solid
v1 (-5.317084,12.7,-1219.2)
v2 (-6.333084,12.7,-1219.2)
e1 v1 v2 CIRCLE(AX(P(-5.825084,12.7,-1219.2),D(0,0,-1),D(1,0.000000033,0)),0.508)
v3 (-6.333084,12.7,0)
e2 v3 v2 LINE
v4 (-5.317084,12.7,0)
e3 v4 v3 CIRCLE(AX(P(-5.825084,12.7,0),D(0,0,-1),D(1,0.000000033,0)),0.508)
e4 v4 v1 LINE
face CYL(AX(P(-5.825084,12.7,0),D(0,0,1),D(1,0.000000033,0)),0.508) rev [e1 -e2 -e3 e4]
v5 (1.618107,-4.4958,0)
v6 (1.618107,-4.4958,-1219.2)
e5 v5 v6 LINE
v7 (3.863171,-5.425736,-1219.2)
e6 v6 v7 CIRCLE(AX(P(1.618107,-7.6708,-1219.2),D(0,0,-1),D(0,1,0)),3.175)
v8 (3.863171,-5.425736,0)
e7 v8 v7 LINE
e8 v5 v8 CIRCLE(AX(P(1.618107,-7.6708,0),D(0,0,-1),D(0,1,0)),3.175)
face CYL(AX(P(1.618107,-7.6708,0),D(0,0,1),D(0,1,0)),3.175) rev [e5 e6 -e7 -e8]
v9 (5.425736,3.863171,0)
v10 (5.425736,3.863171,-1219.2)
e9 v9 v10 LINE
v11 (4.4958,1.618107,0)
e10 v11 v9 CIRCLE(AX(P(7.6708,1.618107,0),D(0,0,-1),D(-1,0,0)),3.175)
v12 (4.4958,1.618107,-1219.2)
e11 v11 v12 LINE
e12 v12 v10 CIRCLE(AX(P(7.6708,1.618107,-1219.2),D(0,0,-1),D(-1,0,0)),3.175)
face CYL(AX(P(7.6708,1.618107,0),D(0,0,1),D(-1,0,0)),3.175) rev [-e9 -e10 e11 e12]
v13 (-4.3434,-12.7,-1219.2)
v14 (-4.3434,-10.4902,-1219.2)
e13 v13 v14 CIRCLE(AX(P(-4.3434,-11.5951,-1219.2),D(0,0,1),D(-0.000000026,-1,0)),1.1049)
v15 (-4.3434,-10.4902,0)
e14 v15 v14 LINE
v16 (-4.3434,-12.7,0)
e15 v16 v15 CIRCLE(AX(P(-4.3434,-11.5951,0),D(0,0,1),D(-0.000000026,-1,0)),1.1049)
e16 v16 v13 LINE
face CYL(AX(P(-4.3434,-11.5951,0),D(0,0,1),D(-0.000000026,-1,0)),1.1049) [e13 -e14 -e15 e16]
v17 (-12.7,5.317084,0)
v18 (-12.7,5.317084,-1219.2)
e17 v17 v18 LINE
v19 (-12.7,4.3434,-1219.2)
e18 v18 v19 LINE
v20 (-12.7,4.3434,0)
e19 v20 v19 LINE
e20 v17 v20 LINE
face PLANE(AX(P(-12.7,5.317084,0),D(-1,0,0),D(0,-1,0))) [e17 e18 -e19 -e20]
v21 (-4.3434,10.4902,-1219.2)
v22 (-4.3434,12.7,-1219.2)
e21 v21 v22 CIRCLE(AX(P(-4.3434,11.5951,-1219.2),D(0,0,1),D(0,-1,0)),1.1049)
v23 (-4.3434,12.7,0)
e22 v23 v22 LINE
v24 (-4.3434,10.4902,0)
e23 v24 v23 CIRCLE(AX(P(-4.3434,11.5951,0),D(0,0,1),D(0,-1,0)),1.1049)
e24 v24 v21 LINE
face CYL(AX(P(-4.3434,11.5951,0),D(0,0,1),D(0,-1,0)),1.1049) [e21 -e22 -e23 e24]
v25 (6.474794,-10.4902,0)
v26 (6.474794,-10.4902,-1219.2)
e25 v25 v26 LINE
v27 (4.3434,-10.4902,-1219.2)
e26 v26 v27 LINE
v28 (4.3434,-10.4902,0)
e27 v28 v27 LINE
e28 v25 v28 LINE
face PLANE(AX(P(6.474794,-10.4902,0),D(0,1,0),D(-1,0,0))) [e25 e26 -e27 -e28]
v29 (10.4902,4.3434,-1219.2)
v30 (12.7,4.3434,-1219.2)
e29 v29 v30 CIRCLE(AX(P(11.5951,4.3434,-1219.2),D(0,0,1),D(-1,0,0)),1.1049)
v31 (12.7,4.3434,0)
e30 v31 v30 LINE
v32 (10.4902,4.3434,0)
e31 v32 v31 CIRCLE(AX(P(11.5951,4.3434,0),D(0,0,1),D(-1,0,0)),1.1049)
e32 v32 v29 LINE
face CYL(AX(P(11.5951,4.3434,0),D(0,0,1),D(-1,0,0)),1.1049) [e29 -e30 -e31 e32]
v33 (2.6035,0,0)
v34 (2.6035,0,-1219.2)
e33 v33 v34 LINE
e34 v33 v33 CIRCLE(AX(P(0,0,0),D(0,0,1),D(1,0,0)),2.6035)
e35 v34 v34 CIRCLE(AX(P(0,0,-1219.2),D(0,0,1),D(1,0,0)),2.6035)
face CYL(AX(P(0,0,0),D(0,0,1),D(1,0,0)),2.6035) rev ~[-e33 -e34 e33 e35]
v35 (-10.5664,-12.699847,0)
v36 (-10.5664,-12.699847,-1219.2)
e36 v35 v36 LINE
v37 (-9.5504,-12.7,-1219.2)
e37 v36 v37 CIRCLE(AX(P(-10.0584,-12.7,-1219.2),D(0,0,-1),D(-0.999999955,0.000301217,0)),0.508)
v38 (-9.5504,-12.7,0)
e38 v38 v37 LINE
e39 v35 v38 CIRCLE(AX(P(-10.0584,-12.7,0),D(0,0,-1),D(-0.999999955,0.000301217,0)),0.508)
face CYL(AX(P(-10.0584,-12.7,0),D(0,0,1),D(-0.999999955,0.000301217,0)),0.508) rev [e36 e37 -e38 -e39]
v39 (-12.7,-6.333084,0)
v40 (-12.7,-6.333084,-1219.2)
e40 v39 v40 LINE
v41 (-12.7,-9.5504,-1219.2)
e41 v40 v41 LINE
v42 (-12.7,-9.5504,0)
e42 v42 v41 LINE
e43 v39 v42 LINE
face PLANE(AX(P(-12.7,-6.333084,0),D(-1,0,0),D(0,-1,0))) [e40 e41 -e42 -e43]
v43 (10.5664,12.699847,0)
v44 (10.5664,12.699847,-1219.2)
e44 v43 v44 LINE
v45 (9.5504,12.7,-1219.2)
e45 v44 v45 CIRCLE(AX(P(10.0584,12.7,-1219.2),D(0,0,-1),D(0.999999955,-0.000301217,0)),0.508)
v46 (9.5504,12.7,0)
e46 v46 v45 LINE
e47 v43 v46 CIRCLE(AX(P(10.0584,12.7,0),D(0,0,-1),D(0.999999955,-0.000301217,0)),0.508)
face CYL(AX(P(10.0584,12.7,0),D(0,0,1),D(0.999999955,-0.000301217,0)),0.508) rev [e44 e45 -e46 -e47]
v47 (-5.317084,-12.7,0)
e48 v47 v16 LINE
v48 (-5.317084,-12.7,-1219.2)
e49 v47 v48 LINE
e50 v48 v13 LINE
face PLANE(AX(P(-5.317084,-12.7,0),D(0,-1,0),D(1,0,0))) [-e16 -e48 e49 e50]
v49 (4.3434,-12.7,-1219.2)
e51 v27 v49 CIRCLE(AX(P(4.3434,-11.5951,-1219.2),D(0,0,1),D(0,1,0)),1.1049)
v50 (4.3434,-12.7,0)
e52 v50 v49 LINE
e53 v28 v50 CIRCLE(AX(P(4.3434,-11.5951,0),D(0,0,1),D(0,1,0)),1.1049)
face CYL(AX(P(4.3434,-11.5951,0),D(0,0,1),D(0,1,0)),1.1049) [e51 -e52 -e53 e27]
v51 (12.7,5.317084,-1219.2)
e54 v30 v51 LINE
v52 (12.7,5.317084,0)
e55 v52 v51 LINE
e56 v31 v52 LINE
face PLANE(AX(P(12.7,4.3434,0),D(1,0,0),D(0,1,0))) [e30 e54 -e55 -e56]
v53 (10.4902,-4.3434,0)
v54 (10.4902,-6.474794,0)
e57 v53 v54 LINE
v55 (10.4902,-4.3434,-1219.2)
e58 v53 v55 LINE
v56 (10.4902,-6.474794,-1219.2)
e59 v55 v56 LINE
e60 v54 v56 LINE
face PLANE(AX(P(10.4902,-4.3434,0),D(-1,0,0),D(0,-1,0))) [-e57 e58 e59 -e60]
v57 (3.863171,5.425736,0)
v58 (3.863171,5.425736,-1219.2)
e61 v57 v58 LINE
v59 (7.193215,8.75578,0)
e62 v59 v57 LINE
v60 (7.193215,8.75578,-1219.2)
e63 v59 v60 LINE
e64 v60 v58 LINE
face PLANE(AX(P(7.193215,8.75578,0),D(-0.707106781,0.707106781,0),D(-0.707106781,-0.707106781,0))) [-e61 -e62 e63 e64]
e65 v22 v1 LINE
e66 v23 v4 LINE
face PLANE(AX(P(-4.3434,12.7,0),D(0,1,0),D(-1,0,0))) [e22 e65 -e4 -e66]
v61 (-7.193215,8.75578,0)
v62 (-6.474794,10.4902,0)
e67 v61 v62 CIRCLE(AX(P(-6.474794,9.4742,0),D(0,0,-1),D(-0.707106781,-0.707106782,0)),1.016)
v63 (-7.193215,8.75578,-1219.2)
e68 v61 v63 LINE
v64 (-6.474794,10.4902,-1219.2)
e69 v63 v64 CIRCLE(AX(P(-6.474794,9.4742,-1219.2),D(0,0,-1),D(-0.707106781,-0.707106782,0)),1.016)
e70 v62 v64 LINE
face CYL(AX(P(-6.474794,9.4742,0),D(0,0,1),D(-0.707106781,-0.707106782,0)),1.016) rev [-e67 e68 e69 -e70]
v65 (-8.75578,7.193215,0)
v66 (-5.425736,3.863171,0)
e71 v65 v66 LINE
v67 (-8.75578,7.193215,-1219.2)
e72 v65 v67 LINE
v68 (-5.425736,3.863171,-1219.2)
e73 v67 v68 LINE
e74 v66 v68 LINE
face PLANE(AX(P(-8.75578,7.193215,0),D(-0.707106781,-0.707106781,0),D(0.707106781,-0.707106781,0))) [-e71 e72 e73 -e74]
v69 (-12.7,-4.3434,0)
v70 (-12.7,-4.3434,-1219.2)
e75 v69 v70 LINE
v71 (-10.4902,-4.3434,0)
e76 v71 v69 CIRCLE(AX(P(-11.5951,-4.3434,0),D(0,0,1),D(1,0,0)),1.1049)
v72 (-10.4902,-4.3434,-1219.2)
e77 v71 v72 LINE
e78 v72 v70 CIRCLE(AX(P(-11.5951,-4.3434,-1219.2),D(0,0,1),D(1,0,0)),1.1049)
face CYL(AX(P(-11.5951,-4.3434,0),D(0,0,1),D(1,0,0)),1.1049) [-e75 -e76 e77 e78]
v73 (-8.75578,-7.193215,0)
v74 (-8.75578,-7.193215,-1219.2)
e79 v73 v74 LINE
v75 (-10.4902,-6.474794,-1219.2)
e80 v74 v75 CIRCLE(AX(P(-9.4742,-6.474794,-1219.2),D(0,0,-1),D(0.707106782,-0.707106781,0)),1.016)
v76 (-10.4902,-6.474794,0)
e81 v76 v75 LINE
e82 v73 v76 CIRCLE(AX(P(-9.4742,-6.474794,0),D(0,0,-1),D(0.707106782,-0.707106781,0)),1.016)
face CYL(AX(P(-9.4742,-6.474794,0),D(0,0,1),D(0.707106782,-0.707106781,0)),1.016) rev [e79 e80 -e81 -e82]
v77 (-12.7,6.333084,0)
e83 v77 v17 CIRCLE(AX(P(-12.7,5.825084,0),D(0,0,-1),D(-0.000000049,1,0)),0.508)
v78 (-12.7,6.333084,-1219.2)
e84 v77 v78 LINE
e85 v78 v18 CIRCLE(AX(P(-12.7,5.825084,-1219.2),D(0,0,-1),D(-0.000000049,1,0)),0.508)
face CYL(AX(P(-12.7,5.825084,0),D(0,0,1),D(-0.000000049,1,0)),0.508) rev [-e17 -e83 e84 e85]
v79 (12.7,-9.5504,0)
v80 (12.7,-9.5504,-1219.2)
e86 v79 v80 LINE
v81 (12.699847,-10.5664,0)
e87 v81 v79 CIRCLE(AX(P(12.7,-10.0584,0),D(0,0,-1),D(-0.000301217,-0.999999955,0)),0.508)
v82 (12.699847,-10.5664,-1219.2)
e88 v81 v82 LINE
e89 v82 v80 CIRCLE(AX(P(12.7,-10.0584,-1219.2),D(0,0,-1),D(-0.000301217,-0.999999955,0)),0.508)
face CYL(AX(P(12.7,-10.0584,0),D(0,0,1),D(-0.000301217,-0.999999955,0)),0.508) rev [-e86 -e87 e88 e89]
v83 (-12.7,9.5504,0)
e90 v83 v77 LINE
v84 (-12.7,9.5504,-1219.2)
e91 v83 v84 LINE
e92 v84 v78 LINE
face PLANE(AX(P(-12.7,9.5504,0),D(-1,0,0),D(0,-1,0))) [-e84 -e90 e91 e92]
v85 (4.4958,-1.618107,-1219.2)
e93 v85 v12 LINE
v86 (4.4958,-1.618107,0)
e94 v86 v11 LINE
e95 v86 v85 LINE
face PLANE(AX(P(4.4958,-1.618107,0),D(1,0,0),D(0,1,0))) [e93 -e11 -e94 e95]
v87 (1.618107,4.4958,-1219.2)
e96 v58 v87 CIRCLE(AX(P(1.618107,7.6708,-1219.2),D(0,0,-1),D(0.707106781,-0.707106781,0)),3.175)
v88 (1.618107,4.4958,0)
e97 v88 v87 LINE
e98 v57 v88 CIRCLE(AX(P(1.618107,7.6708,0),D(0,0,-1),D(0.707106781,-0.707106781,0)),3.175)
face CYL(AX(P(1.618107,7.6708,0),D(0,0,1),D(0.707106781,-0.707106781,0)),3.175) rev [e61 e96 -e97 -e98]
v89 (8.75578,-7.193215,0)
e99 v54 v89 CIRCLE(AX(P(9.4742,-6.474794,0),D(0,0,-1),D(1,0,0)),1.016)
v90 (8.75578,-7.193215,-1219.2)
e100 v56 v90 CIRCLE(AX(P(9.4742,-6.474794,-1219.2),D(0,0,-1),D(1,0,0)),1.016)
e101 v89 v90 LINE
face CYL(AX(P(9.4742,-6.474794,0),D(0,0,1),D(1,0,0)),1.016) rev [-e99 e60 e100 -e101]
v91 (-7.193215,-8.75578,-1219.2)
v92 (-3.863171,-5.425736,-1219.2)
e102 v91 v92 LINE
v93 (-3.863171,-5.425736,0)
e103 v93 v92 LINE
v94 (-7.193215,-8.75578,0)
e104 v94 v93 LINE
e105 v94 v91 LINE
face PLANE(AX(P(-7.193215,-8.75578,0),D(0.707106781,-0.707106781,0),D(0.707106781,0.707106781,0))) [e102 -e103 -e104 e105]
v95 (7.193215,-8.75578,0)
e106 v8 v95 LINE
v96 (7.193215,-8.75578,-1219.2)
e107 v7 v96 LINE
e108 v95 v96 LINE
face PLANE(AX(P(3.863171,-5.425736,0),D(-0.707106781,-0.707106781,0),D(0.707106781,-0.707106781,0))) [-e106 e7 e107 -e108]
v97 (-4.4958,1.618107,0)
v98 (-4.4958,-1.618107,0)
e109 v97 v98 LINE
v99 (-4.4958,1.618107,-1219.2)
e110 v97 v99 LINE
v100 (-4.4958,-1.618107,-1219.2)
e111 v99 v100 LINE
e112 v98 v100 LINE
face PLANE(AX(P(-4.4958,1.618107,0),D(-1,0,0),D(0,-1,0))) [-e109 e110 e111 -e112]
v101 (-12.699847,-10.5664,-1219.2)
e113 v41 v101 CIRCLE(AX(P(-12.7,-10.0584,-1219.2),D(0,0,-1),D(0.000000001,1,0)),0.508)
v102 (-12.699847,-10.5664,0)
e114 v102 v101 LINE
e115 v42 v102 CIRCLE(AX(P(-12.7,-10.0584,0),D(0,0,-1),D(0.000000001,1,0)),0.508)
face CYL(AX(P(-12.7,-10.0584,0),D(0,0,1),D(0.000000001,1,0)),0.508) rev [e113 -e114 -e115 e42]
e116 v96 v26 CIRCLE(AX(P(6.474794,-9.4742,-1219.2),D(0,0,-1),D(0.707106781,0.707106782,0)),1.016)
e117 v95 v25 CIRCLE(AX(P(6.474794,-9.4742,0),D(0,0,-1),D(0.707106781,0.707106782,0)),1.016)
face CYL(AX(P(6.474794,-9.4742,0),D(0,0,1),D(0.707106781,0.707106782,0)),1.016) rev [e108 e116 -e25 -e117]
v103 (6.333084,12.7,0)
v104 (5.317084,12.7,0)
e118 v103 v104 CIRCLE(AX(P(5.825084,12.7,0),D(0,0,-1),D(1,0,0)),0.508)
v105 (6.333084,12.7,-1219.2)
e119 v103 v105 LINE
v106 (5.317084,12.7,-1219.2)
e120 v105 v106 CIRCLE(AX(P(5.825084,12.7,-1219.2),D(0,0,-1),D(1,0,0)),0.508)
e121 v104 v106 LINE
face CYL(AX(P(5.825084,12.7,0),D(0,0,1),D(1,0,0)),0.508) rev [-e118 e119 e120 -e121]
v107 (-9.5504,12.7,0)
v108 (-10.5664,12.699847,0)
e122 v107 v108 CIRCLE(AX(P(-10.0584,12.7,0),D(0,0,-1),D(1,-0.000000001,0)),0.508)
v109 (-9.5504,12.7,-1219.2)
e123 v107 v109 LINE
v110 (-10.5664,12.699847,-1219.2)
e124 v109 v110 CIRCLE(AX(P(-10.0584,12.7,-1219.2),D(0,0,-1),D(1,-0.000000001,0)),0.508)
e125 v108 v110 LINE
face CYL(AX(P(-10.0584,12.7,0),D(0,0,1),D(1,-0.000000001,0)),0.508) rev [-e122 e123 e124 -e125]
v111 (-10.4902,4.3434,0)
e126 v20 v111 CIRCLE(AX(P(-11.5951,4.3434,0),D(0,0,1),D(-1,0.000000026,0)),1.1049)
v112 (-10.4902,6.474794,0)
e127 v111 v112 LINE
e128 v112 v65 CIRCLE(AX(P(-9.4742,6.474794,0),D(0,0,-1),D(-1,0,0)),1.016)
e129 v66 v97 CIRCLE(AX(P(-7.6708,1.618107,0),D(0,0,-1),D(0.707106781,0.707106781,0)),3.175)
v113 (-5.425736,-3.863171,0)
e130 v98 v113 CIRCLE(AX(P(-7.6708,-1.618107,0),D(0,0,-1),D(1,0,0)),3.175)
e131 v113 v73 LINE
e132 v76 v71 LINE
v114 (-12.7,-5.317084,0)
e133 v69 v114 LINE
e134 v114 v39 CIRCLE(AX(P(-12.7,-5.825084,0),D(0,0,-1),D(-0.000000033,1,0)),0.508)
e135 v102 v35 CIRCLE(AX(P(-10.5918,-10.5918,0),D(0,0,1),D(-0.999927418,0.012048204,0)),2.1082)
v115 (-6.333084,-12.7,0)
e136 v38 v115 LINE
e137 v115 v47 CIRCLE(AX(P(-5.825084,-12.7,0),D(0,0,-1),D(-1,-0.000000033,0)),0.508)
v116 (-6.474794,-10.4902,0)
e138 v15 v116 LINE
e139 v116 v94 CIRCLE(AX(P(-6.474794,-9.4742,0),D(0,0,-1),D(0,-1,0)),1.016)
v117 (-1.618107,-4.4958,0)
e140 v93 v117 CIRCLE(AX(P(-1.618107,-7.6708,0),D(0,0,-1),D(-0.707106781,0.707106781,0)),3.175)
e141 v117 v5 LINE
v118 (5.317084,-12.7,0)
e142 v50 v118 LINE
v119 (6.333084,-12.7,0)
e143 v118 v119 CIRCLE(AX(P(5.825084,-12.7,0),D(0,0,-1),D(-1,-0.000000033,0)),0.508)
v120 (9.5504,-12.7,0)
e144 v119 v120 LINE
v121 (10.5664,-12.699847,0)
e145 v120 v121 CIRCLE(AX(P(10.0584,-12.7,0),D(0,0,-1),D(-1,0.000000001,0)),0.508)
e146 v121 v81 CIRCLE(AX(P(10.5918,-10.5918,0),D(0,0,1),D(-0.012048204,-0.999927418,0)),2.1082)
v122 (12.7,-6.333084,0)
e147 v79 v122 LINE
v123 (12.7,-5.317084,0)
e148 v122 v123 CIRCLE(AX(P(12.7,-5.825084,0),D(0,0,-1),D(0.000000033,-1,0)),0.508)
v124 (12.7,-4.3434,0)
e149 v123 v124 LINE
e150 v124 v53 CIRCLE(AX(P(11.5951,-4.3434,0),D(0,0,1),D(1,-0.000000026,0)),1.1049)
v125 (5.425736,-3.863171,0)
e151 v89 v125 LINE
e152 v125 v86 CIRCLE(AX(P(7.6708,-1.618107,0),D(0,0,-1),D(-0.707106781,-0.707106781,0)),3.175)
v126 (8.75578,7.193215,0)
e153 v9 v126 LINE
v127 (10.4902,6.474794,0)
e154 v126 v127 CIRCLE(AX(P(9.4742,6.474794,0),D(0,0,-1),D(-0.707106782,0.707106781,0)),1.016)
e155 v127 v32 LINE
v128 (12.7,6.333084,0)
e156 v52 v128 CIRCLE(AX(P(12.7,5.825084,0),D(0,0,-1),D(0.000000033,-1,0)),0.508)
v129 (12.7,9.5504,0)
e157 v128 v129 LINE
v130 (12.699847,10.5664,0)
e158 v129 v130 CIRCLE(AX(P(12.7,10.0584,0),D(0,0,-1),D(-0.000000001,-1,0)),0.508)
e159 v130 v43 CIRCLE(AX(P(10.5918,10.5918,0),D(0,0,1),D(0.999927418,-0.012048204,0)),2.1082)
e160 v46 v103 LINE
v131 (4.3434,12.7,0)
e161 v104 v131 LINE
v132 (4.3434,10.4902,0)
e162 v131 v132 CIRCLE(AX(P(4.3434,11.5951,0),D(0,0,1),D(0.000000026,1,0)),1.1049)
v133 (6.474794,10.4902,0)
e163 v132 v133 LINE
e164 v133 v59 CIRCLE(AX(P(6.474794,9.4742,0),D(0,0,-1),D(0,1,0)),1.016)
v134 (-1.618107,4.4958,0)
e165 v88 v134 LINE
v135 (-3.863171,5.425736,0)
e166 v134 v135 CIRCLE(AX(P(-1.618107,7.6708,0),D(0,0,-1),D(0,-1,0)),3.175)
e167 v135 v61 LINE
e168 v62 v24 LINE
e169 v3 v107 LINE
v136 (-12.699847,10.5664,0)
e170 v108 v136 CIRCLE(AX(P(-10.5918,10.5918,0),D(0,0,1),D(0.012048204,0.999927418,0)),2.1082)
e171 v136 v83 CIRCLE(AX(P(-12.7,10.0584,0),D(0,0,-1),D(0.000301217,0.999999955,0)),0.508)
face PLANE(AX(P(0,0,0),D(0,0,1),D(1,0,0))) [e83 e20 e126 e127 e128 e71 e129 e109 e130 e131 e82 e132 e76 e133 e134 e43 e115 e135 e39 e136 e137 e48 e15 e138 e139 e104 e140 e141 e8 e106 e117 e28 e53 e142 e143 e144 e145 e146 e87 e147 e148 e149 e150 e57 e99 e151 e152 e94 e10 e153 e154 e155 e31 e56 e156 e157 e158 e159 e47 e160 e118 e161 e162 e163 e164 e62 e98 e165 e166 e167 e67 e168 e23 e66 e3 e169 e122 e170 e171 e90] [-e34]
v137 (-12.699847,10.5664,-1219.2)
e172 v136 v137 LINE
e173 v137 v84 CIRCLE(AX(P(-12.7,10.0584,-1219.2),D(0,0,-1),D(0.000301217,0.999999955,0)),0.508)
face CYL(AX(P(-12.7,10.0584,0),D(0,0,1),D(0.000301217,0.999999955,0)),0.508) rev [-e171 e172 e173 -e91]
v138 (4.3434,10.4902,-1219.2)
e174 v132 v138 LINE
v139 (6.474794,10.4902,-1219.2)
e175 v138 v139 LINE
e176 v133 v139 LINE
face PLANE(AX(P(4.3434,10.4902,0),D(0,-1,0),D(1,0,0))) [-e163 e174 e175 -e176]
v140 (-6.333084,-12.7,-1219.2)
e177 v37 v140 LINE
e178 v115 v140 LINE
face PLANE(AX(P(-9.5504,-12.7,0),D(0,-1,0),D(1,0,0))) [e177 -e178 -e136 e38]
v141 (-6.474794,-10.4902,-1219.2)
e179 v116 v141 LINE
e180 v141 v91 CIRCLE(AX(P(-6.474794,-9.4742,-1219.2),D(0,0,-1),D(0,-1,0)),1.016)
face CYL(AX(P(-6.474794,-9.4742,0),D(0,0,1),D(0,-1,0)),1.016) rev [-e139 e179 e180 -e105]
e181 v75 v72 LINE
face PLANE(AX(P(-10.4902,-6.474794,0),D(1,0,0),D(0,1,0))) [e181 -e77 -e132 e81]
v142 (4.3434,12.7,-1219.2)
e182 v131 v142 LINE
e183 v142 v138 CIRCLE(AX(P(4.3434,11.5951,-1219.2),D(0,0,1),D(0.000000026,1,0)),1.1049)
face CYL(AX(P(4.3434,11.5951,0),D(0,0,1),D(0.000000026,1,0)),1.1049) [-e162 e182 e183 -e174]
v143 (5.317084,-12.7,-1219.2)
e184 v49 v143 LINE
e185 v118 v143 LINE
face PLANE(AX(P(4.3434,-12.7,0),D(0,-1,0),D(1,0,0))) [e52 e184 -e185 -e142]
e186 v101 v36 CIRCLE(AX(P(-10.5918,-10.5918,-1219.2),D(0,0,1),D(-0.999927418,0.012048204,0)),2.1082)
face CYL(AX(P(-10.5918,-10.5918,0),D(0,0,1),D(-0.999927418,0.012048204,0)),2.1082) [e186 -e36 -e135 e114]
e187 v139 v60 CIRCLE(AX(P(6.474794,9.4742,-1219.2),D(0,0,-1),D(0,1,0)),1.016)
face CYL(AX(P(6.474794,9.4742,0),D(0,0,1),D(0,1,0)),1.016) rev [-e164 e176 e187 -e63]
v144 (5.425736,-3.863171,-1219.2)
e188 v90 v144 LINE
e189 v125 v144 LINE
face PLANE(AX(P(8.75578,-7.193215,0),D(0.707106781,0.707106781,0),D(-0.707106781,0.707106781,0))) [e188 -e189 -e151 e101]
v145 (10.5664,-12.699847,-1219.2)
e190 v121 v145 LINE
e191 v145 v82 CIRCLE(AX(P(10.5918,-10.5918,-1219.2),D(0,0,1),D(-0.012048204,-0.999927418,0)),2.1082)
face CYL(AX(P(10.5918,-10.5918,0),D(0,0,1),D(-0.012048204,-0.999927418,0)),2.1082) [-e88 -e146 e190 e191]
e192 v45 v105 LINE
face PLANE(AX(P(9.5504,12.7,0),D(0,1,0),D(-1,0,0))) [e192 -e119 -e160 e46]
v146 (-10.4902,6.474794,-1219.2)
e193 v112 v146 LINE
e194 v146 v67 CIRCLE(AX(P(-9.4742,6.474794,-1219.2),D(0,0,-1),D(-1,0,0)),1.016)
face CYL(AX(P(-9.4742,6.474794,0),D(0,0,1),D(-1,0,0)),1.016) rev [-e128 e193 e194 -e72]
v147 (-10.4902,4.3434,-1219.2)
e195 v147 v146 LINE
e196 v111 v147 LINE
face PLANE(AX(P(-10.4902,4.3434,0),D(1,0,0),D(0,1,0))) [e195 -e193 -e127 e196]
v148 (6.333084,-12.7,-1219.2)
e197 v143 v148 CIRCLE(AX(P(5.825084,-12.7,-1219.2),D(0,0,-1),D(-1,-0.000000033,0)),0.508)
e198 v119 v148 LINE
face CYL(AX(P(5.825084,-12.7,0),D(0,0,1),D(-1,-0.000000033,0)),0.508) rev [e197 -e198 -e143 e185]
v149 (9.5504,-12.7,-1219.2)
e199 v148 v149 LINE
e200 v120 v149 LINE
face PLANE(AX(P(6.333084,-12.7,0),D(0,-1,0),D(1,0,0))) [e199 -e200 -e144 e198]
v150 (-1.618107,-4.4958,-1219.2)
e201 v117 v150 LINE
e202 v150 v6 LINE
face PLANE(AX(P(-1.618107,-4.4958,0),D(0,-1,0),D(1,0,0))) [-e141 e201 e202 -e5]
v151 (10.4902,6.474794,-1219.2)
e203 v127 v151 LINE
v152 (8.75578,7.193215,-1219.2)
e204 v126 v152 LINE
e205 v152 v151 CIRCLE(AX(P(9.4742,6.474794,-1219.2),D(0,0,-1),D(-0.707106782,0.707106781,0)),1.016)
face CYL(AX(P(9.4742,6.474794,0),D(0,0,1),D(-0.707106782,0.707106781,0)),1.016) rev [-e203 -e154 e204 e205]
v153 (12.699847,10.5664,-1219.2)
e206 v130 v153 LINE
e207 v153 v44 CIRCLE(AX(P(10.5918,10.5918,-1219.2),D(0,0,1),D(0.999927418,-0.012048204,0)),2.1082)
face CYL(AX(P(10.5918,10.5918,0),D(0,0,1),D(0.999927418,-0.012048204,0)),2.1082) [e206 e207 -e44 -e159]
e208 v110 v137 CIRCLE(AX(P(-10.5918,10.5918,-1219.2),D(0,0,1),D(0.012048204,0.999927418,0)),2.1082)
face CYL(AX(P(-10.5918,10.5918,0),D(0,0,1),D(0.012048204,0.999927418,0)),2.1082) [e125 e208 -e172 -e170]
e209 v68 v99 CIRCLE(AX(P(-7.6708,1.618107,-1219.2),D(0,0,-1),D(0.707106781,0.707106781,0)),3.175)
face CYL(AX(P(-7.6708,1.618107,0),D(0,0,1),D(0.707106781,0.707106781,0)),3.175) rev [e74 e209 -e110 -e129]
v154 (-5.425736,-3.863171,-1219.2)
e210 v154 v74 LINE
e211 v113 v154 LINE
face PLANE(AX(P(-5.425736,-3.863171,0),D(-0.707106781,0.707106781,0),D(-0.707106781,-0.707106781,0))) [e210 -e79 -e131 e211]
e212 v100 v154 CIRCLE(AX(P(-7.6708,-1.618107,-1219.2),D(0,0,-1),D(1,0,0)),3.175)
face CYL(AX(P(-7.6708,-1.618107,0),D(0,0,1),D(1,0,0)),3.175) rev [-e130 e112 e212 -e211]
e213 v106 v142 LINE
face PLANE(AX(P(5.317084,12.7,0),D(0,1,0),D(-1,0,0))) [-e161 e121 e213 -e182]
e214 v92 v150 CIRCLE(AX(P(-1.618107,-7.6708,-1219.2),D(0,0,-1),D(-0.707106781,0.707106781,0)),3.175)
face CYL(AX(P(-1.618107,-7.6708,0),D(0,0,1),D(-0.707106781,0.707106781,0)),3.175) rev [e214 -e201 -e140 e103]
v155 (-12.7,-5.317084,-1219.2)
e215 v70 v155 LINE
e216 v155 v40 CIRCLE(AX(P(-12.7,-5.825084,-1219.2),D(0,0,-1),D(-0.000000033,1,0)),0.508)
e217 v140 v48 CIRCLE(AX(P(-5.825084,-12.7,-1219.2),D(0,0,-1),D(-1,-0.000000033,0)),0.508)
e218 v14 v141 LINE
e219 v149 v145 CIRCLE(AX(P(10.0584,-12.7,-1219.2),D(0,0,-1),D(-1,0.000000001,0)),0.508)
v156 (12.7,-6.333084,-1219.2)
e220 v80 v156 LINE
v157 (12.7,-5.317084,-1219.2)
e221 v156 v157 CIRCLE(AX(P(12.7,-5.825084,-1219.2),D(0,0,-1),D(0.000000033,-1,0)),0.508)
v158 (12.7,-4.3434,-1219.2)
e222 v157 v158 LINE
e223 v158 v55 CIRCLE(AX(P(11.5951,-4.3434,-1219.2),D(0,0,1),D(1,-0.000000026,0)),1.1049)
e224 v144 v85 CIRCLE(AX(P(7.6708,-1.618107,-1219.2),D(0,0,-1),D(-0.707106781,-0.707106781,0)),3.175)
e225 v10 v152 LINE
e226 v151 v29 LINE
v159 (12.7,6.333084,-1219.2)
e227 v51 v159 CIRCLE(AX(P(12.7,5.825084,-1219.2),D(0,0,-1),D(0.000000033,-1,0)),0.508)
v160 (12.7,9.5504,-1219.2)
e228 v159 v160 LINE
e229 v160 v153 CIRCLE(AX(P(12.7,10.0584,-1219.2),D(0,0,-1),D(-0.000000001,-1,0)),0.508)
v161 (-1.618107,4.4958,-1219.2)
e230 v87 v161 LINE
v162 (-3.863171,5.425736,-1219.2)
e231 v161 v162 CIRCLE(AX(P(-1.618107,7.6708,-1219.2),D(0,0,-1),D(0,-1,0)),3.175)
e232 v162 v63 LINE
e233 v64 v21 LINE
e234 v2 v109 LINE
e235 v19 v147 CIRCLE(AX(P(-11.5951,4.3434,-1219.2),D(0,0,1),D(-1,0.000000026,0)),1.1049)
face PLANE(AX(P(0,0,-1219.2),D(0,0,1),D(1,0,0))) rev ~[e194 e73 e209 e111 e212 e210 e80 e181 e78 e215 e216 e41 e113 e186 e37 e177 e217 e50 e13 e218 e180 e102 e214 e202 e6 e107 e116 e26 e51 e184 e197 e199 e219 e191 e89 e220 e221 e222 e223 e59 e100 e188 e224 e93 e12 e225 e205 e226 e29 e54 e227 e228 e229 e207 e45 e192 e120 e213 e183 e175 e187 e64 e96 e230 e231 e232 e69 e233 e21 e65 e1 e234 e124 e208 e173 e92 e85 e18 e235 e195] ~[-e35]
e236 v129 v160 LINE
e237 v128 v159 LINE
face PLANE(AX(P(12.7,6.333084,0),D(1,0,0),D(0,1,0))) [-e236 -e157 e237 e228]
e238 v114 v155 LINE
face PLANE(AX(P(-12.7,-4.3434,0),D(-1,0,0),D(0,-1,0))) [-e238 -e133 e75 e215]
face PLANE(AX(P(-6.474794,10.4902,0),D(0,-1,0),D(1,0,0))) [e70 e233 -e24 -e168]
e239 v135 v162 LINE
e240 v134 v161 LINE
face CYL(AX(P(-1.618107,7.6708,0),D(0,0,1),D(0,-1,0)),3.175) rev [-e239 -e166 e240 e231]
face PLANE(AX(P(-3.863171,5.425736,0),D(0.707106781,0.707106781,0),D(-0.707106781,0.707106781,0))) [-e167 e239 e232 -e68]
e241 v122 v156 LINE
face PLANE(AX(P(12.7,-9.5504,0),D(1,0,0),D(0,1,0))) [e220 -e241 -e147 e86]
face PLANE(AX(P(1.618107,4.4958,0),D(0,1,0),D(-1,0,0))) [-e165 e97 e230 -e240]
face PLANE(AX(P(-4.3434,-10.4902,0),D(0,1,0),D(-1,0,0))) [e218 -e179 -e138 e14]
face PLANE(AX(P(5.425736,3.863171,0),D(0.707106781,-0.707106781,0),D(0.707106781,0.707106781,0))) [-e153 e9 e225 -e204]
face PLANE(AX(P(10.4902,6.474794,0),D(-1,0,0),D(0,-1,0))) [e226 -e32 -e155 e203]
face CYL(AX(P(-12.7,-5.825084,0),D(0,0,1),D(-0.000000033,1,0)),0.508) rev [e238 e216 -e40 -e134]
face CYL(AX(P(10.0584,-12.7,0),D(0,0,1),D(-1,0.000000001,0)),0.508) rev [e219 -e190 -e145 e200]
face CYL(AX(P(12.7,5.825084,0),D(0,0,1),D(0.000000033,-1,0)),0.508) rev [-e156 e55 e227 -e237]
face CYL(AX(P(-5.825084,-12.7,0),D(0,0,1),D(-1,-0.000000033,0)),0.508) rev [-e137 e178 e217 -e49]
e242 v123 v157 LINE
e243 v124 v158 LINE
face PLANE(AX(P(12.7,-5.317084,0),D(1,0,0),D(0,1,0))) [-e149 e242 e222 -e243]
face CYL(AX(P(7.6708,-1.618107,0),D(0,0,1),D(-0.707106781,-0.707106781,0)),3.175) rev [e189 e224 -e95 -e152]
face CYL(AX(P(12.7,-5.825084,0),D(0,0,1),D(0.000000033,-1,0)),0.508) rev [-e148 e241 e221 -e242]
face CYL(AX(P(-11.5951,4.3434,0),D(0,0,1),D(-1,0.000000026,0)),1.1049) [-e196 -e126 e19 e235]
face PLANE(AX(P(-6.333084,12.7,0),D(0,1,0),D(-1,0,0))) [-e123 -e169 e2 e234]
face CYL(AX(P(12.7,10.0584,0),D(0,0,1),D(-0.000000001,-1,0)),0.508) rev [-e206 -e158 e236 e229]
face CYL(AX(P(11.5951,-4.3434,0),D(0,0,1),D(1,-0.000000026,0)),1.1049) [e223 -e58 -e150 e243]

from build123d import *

# Parameters (mm, degrees)
SKETCH1_R           = 2.6035
BOSS_EXTRUDE1_DEPTH = 1219.2


with BuildPart() as part:
    # Sketch1 → Boss-Extrude1 (new body)
    with BuildSketch(Plane.XY):
        with BuildLine():
            Line((-12.7, 9.5504), (-12.7, 6.3330836))
            ThreePointArc((-12.7, 6.3330836), (-12.191999975, 5.8250836), (-12.7, 5.3170836))
            Line((-12.7, 5.3170836), (-12.7, 4.3434))
            ThreePointArc((-12.7, 4.3434), (-11.5951, 3.238499971), (-10.4902, 4.3434))
            Line((-10.4902, 4.3434), (-10.4902, 6.474794456))
            ThreePointArc((-10.4902, 6.474794456), (-9.863006367, 7.413456061), (-8.75577951, 7.193214945))
            Line((-8.75577951, 7.193214945), (-5.42573597, 3.863171405))
            ThreePointArc((-5.42573597, 3.863171405), (-4.737482484, 2.833127272), (-4.4958, 1.618107374))
            Line((-4.4958, 1.618107374), (-4.4958, -1.618107374))
            ThreePointArc((-4.4958, -1.618107374), (-4.737482484, -2.833127272), (-5.42573597, -3.863171405))
            Line((-5.42573597, -3.863171405), (-8.75577951, -7.193214945))
            ThreePointArc((-8.75577951, -7.193214945), (-9.863006367, -7.413456061), (-10.4902, -6.474794456))
            Line((-10.4902, -6.474794456), (-10.4902, -4.3434))
            ThreePointArc((-10.4902, -4.3434), (-11.5951, -3.2385), (-12.7, -4.3434))
            Line((-12.7, -4.3434), (-12.7, -5.3170836))
            ThreePointArc((-12.7, -5.3170836), (-12.191999983, -5.8250836), (-12.7, -6.3330836))
            Line((-12.7, -6.3330836), (-12.7, -9.5504))
            ThreePointArc((-12.7, -9.5504), (-12.192000006, -10.058323491), (-12.699846982, -10.566399977))
            ThreePointArc((-12.699846982, -10.566399977), (-12.082522516, -12.082522516), (-10.566399977, -12.699846982))
            ThreePointArc((-10.566399977, -12.699846982), (-10.058323491, -12.192000006), (-9.5504, -12.7))
            Line((-9.5504, -12.7), (-6.3330836, -12.7))
            ThreePointArc((-6.3330836, -12.7), (-5.8250836, -12.191999983), (-5.3170836, -12.7))
            Line((-5.3170836, -12.7), (-4.3434, -12.7))
            ThreePointArc((-4.3434, -12.7), (-3.238499971, -11.5951), (-4.3434, -10.4902))
            Line((-4.3434, -10.4902), (-6.474794456, -10.4902))
            ThreePointArc((-6.474794456, -10.4902), (-7.413456061, -9.863006367), (-7.193214945, -8.75577951))
            Line((-7.193214945, -8.75577951), (-3.863171405, -5.42573597))
            ThreePointArc((-3.863171405, -5.42573597), (-2.833127272, -4.737482484), (-1.618107374, -4.4958))
            Line((-1.618107374, -4.4958), (1.618107374, -4.4958))
            ThreePointArc((1.618107374, -4.4958), (2.833127272, -4.737482484), (3.863171405, -5.42573597))
            Line((3.863171405, -5.42573597), (7.193214945, -8.75577951))
            ThreePointArc((7.193214945, -8.75577951), (7.413456061, -9.863006367), (6.474794456, -10.4902))
            Line((6.474794456, -10.4902), (4.3434, -10.4902))
            ThreePointArc((4.3434, -10.4902), (3.2385, -11.5951), (4.3434, -12.7))
            Line((4.3434, -12.7), (5.3170836, -12.7))
            ThreePointArc((5.3170836, -12.7), (5.8250836, -12.191999983), (6.3330836, -12.7))
            Line((6.3330836, -12.7), (9.5504, -12.7))
            ThreePointArc((9.5504, -12.7), (10.058323491, -12.192000006), (10.566399977, -12.699846982))
            ThreePointArc((10.566399977, -12.699846982), (12.082522516, -12.082522516), (12.699846982, -10.566399977))
            ThreePointArc((12.699846982, -10.566399977), (12.192000006, -10.058323491), (12.7, -9.5504))
            Line((12.7, -9.5504), (12.7, -6.3330836))
            ThreePointArc((12.7, -6.3330836), (12.191999983, -5.8250836), (12.7, -5.3170836))
            Line((12.7, -5.3170836), (12.7, -4.3434))
            ThreePointArc((12.7, -4.3434), (11.5951, -3.238499971), (10.4902, -4.3434))
            Line((10.4902, -4.3434), (10.4902, -6.474794456))
            ThreePointArc((10.4902, -6.474794456), (9.863006367, -7.413456061), (8.75577951, -7.193214945))
            Line((8.75577951, -7.193214945), (5.42573597, -3.863171405))
            ThreePointArc((5.42573597, -3.863171405), (4.737482484, -2.833127272), (4.4958, -1.618107374))
            Line((4.4958, -1.618107374), (4.4958, 1.618107374))
            ThreePointArc((4.4958, 1.618107374), (4.737482484, 2.833127272), (5.42573597, 3.863171405))
            Line((5.42573597, 3.863171405), (8.75577951, 7.193214945))
            ThreePointArc((8.75577951, 7.193214945), (9.863006367, 7.413456061), (10.4902, 6.474794456))
            Line((10.4902, 6.474794456), (10.4902, 4.3434))
            ThreePointArc((10.4902, 4.3434), (11.5951, 3.2385), (12.7, 4.3434))
            Line((12.7, 4.3434), (12.7, 5.3170836))
            ThreePointArc((12.7, 5.3170836), (12.191999983, 5.8250836), (12.7, 6.3330836))
            Line((12.7, 6.3330836), (12.7, 9.5504))
            ThreePointArc((12.7, 9.5504), (12.192000006, 10.058323491), (12.699846982, 10.566399977))
            ThreePointArc((12.699846982, 10.566399977), (12.082522516, 12.082522516), (10.566399977, 12.699846982))
            ThreePointArc((10.566399977, 12.699846982), (10.058323491, 12.192000006), (9.5504, 12.7))
            Line((9.5504, 12.7), (6.3330836, 12.7))
            ThreePointArc((6.3330836, 12.7), (5.8250836, 12.192), (5.3170836, 12.7))
            Line((5.3170836, 12.7), (4.3434, 12.7))
            ThreePointArc((4.3434, 12.7), (3.238499971, 11.5951), (4.3434, 10.4902))
            Line((4.3434, 10.4902), (6.474794456, 10.4902))
            ThreePointArc((6.474794456, 10.4902), (7.413456061, 9.863006367), (7.193214945, 8.75577951))
            Line((7.193214945, 8.75577951), (3.863171405, 5.42573597))
            ThreePointArc((3.863171405, 5.42573597), (2.833127272, 4.737482484), (1.618107374, 4.4958))
            Line((1.618107374, 4.4958), (-1.618107374, 4.4958))
            ThreePointArc((-1.618107374, 4.4958), (-2.833127272, 4.737482484), (-3.863171405, 5.42573597))
            Line((-3.863171405, 5.42573597), (-7.193214945, 8.75577951))
            ThreePointArc((-7.193214945, 8.75577951), (-7.413456061, 9.863006367), (-6.474794456, 10.4902))
            Line((-6.474794456, 10.4902), (-4.3434, 10.4902))
            ThreePointArc((-4.3434, 10.4902), (-3.2385, 11.5951), (-4.3434, 12.7))
            Line((-4.3434, 12.7), (-5.3170836, 12.7))
            ThreePointArc((-5.3170836, 12.7), (-5.8250836, 12.191999983), (-6.3330836, 12.7))
            Line((-6.3330836, 12.7), (-9.5504, 12.7))
            ThreePointArc((-9.5504, 12.7), (-10.058323491, 12.192000006), (-10.566399977, 12.699846982))
            ThreePointArc((-10.566399977, 12.699846982), (-12.082522516, 12.082522516), (-12.699846982, 10.566399977))
            ThreePointArc((-12.699846982, 10.566399977), (-12.192000006, 10.058323491), (-12.7, 9.5504))
        make_face()
        Circle(SKETCH1_R, mode=Mode.SUBTRACT)
    extrude(amount=-BOSS_EXTRUDE1_DEPTH)


solid = part.part
